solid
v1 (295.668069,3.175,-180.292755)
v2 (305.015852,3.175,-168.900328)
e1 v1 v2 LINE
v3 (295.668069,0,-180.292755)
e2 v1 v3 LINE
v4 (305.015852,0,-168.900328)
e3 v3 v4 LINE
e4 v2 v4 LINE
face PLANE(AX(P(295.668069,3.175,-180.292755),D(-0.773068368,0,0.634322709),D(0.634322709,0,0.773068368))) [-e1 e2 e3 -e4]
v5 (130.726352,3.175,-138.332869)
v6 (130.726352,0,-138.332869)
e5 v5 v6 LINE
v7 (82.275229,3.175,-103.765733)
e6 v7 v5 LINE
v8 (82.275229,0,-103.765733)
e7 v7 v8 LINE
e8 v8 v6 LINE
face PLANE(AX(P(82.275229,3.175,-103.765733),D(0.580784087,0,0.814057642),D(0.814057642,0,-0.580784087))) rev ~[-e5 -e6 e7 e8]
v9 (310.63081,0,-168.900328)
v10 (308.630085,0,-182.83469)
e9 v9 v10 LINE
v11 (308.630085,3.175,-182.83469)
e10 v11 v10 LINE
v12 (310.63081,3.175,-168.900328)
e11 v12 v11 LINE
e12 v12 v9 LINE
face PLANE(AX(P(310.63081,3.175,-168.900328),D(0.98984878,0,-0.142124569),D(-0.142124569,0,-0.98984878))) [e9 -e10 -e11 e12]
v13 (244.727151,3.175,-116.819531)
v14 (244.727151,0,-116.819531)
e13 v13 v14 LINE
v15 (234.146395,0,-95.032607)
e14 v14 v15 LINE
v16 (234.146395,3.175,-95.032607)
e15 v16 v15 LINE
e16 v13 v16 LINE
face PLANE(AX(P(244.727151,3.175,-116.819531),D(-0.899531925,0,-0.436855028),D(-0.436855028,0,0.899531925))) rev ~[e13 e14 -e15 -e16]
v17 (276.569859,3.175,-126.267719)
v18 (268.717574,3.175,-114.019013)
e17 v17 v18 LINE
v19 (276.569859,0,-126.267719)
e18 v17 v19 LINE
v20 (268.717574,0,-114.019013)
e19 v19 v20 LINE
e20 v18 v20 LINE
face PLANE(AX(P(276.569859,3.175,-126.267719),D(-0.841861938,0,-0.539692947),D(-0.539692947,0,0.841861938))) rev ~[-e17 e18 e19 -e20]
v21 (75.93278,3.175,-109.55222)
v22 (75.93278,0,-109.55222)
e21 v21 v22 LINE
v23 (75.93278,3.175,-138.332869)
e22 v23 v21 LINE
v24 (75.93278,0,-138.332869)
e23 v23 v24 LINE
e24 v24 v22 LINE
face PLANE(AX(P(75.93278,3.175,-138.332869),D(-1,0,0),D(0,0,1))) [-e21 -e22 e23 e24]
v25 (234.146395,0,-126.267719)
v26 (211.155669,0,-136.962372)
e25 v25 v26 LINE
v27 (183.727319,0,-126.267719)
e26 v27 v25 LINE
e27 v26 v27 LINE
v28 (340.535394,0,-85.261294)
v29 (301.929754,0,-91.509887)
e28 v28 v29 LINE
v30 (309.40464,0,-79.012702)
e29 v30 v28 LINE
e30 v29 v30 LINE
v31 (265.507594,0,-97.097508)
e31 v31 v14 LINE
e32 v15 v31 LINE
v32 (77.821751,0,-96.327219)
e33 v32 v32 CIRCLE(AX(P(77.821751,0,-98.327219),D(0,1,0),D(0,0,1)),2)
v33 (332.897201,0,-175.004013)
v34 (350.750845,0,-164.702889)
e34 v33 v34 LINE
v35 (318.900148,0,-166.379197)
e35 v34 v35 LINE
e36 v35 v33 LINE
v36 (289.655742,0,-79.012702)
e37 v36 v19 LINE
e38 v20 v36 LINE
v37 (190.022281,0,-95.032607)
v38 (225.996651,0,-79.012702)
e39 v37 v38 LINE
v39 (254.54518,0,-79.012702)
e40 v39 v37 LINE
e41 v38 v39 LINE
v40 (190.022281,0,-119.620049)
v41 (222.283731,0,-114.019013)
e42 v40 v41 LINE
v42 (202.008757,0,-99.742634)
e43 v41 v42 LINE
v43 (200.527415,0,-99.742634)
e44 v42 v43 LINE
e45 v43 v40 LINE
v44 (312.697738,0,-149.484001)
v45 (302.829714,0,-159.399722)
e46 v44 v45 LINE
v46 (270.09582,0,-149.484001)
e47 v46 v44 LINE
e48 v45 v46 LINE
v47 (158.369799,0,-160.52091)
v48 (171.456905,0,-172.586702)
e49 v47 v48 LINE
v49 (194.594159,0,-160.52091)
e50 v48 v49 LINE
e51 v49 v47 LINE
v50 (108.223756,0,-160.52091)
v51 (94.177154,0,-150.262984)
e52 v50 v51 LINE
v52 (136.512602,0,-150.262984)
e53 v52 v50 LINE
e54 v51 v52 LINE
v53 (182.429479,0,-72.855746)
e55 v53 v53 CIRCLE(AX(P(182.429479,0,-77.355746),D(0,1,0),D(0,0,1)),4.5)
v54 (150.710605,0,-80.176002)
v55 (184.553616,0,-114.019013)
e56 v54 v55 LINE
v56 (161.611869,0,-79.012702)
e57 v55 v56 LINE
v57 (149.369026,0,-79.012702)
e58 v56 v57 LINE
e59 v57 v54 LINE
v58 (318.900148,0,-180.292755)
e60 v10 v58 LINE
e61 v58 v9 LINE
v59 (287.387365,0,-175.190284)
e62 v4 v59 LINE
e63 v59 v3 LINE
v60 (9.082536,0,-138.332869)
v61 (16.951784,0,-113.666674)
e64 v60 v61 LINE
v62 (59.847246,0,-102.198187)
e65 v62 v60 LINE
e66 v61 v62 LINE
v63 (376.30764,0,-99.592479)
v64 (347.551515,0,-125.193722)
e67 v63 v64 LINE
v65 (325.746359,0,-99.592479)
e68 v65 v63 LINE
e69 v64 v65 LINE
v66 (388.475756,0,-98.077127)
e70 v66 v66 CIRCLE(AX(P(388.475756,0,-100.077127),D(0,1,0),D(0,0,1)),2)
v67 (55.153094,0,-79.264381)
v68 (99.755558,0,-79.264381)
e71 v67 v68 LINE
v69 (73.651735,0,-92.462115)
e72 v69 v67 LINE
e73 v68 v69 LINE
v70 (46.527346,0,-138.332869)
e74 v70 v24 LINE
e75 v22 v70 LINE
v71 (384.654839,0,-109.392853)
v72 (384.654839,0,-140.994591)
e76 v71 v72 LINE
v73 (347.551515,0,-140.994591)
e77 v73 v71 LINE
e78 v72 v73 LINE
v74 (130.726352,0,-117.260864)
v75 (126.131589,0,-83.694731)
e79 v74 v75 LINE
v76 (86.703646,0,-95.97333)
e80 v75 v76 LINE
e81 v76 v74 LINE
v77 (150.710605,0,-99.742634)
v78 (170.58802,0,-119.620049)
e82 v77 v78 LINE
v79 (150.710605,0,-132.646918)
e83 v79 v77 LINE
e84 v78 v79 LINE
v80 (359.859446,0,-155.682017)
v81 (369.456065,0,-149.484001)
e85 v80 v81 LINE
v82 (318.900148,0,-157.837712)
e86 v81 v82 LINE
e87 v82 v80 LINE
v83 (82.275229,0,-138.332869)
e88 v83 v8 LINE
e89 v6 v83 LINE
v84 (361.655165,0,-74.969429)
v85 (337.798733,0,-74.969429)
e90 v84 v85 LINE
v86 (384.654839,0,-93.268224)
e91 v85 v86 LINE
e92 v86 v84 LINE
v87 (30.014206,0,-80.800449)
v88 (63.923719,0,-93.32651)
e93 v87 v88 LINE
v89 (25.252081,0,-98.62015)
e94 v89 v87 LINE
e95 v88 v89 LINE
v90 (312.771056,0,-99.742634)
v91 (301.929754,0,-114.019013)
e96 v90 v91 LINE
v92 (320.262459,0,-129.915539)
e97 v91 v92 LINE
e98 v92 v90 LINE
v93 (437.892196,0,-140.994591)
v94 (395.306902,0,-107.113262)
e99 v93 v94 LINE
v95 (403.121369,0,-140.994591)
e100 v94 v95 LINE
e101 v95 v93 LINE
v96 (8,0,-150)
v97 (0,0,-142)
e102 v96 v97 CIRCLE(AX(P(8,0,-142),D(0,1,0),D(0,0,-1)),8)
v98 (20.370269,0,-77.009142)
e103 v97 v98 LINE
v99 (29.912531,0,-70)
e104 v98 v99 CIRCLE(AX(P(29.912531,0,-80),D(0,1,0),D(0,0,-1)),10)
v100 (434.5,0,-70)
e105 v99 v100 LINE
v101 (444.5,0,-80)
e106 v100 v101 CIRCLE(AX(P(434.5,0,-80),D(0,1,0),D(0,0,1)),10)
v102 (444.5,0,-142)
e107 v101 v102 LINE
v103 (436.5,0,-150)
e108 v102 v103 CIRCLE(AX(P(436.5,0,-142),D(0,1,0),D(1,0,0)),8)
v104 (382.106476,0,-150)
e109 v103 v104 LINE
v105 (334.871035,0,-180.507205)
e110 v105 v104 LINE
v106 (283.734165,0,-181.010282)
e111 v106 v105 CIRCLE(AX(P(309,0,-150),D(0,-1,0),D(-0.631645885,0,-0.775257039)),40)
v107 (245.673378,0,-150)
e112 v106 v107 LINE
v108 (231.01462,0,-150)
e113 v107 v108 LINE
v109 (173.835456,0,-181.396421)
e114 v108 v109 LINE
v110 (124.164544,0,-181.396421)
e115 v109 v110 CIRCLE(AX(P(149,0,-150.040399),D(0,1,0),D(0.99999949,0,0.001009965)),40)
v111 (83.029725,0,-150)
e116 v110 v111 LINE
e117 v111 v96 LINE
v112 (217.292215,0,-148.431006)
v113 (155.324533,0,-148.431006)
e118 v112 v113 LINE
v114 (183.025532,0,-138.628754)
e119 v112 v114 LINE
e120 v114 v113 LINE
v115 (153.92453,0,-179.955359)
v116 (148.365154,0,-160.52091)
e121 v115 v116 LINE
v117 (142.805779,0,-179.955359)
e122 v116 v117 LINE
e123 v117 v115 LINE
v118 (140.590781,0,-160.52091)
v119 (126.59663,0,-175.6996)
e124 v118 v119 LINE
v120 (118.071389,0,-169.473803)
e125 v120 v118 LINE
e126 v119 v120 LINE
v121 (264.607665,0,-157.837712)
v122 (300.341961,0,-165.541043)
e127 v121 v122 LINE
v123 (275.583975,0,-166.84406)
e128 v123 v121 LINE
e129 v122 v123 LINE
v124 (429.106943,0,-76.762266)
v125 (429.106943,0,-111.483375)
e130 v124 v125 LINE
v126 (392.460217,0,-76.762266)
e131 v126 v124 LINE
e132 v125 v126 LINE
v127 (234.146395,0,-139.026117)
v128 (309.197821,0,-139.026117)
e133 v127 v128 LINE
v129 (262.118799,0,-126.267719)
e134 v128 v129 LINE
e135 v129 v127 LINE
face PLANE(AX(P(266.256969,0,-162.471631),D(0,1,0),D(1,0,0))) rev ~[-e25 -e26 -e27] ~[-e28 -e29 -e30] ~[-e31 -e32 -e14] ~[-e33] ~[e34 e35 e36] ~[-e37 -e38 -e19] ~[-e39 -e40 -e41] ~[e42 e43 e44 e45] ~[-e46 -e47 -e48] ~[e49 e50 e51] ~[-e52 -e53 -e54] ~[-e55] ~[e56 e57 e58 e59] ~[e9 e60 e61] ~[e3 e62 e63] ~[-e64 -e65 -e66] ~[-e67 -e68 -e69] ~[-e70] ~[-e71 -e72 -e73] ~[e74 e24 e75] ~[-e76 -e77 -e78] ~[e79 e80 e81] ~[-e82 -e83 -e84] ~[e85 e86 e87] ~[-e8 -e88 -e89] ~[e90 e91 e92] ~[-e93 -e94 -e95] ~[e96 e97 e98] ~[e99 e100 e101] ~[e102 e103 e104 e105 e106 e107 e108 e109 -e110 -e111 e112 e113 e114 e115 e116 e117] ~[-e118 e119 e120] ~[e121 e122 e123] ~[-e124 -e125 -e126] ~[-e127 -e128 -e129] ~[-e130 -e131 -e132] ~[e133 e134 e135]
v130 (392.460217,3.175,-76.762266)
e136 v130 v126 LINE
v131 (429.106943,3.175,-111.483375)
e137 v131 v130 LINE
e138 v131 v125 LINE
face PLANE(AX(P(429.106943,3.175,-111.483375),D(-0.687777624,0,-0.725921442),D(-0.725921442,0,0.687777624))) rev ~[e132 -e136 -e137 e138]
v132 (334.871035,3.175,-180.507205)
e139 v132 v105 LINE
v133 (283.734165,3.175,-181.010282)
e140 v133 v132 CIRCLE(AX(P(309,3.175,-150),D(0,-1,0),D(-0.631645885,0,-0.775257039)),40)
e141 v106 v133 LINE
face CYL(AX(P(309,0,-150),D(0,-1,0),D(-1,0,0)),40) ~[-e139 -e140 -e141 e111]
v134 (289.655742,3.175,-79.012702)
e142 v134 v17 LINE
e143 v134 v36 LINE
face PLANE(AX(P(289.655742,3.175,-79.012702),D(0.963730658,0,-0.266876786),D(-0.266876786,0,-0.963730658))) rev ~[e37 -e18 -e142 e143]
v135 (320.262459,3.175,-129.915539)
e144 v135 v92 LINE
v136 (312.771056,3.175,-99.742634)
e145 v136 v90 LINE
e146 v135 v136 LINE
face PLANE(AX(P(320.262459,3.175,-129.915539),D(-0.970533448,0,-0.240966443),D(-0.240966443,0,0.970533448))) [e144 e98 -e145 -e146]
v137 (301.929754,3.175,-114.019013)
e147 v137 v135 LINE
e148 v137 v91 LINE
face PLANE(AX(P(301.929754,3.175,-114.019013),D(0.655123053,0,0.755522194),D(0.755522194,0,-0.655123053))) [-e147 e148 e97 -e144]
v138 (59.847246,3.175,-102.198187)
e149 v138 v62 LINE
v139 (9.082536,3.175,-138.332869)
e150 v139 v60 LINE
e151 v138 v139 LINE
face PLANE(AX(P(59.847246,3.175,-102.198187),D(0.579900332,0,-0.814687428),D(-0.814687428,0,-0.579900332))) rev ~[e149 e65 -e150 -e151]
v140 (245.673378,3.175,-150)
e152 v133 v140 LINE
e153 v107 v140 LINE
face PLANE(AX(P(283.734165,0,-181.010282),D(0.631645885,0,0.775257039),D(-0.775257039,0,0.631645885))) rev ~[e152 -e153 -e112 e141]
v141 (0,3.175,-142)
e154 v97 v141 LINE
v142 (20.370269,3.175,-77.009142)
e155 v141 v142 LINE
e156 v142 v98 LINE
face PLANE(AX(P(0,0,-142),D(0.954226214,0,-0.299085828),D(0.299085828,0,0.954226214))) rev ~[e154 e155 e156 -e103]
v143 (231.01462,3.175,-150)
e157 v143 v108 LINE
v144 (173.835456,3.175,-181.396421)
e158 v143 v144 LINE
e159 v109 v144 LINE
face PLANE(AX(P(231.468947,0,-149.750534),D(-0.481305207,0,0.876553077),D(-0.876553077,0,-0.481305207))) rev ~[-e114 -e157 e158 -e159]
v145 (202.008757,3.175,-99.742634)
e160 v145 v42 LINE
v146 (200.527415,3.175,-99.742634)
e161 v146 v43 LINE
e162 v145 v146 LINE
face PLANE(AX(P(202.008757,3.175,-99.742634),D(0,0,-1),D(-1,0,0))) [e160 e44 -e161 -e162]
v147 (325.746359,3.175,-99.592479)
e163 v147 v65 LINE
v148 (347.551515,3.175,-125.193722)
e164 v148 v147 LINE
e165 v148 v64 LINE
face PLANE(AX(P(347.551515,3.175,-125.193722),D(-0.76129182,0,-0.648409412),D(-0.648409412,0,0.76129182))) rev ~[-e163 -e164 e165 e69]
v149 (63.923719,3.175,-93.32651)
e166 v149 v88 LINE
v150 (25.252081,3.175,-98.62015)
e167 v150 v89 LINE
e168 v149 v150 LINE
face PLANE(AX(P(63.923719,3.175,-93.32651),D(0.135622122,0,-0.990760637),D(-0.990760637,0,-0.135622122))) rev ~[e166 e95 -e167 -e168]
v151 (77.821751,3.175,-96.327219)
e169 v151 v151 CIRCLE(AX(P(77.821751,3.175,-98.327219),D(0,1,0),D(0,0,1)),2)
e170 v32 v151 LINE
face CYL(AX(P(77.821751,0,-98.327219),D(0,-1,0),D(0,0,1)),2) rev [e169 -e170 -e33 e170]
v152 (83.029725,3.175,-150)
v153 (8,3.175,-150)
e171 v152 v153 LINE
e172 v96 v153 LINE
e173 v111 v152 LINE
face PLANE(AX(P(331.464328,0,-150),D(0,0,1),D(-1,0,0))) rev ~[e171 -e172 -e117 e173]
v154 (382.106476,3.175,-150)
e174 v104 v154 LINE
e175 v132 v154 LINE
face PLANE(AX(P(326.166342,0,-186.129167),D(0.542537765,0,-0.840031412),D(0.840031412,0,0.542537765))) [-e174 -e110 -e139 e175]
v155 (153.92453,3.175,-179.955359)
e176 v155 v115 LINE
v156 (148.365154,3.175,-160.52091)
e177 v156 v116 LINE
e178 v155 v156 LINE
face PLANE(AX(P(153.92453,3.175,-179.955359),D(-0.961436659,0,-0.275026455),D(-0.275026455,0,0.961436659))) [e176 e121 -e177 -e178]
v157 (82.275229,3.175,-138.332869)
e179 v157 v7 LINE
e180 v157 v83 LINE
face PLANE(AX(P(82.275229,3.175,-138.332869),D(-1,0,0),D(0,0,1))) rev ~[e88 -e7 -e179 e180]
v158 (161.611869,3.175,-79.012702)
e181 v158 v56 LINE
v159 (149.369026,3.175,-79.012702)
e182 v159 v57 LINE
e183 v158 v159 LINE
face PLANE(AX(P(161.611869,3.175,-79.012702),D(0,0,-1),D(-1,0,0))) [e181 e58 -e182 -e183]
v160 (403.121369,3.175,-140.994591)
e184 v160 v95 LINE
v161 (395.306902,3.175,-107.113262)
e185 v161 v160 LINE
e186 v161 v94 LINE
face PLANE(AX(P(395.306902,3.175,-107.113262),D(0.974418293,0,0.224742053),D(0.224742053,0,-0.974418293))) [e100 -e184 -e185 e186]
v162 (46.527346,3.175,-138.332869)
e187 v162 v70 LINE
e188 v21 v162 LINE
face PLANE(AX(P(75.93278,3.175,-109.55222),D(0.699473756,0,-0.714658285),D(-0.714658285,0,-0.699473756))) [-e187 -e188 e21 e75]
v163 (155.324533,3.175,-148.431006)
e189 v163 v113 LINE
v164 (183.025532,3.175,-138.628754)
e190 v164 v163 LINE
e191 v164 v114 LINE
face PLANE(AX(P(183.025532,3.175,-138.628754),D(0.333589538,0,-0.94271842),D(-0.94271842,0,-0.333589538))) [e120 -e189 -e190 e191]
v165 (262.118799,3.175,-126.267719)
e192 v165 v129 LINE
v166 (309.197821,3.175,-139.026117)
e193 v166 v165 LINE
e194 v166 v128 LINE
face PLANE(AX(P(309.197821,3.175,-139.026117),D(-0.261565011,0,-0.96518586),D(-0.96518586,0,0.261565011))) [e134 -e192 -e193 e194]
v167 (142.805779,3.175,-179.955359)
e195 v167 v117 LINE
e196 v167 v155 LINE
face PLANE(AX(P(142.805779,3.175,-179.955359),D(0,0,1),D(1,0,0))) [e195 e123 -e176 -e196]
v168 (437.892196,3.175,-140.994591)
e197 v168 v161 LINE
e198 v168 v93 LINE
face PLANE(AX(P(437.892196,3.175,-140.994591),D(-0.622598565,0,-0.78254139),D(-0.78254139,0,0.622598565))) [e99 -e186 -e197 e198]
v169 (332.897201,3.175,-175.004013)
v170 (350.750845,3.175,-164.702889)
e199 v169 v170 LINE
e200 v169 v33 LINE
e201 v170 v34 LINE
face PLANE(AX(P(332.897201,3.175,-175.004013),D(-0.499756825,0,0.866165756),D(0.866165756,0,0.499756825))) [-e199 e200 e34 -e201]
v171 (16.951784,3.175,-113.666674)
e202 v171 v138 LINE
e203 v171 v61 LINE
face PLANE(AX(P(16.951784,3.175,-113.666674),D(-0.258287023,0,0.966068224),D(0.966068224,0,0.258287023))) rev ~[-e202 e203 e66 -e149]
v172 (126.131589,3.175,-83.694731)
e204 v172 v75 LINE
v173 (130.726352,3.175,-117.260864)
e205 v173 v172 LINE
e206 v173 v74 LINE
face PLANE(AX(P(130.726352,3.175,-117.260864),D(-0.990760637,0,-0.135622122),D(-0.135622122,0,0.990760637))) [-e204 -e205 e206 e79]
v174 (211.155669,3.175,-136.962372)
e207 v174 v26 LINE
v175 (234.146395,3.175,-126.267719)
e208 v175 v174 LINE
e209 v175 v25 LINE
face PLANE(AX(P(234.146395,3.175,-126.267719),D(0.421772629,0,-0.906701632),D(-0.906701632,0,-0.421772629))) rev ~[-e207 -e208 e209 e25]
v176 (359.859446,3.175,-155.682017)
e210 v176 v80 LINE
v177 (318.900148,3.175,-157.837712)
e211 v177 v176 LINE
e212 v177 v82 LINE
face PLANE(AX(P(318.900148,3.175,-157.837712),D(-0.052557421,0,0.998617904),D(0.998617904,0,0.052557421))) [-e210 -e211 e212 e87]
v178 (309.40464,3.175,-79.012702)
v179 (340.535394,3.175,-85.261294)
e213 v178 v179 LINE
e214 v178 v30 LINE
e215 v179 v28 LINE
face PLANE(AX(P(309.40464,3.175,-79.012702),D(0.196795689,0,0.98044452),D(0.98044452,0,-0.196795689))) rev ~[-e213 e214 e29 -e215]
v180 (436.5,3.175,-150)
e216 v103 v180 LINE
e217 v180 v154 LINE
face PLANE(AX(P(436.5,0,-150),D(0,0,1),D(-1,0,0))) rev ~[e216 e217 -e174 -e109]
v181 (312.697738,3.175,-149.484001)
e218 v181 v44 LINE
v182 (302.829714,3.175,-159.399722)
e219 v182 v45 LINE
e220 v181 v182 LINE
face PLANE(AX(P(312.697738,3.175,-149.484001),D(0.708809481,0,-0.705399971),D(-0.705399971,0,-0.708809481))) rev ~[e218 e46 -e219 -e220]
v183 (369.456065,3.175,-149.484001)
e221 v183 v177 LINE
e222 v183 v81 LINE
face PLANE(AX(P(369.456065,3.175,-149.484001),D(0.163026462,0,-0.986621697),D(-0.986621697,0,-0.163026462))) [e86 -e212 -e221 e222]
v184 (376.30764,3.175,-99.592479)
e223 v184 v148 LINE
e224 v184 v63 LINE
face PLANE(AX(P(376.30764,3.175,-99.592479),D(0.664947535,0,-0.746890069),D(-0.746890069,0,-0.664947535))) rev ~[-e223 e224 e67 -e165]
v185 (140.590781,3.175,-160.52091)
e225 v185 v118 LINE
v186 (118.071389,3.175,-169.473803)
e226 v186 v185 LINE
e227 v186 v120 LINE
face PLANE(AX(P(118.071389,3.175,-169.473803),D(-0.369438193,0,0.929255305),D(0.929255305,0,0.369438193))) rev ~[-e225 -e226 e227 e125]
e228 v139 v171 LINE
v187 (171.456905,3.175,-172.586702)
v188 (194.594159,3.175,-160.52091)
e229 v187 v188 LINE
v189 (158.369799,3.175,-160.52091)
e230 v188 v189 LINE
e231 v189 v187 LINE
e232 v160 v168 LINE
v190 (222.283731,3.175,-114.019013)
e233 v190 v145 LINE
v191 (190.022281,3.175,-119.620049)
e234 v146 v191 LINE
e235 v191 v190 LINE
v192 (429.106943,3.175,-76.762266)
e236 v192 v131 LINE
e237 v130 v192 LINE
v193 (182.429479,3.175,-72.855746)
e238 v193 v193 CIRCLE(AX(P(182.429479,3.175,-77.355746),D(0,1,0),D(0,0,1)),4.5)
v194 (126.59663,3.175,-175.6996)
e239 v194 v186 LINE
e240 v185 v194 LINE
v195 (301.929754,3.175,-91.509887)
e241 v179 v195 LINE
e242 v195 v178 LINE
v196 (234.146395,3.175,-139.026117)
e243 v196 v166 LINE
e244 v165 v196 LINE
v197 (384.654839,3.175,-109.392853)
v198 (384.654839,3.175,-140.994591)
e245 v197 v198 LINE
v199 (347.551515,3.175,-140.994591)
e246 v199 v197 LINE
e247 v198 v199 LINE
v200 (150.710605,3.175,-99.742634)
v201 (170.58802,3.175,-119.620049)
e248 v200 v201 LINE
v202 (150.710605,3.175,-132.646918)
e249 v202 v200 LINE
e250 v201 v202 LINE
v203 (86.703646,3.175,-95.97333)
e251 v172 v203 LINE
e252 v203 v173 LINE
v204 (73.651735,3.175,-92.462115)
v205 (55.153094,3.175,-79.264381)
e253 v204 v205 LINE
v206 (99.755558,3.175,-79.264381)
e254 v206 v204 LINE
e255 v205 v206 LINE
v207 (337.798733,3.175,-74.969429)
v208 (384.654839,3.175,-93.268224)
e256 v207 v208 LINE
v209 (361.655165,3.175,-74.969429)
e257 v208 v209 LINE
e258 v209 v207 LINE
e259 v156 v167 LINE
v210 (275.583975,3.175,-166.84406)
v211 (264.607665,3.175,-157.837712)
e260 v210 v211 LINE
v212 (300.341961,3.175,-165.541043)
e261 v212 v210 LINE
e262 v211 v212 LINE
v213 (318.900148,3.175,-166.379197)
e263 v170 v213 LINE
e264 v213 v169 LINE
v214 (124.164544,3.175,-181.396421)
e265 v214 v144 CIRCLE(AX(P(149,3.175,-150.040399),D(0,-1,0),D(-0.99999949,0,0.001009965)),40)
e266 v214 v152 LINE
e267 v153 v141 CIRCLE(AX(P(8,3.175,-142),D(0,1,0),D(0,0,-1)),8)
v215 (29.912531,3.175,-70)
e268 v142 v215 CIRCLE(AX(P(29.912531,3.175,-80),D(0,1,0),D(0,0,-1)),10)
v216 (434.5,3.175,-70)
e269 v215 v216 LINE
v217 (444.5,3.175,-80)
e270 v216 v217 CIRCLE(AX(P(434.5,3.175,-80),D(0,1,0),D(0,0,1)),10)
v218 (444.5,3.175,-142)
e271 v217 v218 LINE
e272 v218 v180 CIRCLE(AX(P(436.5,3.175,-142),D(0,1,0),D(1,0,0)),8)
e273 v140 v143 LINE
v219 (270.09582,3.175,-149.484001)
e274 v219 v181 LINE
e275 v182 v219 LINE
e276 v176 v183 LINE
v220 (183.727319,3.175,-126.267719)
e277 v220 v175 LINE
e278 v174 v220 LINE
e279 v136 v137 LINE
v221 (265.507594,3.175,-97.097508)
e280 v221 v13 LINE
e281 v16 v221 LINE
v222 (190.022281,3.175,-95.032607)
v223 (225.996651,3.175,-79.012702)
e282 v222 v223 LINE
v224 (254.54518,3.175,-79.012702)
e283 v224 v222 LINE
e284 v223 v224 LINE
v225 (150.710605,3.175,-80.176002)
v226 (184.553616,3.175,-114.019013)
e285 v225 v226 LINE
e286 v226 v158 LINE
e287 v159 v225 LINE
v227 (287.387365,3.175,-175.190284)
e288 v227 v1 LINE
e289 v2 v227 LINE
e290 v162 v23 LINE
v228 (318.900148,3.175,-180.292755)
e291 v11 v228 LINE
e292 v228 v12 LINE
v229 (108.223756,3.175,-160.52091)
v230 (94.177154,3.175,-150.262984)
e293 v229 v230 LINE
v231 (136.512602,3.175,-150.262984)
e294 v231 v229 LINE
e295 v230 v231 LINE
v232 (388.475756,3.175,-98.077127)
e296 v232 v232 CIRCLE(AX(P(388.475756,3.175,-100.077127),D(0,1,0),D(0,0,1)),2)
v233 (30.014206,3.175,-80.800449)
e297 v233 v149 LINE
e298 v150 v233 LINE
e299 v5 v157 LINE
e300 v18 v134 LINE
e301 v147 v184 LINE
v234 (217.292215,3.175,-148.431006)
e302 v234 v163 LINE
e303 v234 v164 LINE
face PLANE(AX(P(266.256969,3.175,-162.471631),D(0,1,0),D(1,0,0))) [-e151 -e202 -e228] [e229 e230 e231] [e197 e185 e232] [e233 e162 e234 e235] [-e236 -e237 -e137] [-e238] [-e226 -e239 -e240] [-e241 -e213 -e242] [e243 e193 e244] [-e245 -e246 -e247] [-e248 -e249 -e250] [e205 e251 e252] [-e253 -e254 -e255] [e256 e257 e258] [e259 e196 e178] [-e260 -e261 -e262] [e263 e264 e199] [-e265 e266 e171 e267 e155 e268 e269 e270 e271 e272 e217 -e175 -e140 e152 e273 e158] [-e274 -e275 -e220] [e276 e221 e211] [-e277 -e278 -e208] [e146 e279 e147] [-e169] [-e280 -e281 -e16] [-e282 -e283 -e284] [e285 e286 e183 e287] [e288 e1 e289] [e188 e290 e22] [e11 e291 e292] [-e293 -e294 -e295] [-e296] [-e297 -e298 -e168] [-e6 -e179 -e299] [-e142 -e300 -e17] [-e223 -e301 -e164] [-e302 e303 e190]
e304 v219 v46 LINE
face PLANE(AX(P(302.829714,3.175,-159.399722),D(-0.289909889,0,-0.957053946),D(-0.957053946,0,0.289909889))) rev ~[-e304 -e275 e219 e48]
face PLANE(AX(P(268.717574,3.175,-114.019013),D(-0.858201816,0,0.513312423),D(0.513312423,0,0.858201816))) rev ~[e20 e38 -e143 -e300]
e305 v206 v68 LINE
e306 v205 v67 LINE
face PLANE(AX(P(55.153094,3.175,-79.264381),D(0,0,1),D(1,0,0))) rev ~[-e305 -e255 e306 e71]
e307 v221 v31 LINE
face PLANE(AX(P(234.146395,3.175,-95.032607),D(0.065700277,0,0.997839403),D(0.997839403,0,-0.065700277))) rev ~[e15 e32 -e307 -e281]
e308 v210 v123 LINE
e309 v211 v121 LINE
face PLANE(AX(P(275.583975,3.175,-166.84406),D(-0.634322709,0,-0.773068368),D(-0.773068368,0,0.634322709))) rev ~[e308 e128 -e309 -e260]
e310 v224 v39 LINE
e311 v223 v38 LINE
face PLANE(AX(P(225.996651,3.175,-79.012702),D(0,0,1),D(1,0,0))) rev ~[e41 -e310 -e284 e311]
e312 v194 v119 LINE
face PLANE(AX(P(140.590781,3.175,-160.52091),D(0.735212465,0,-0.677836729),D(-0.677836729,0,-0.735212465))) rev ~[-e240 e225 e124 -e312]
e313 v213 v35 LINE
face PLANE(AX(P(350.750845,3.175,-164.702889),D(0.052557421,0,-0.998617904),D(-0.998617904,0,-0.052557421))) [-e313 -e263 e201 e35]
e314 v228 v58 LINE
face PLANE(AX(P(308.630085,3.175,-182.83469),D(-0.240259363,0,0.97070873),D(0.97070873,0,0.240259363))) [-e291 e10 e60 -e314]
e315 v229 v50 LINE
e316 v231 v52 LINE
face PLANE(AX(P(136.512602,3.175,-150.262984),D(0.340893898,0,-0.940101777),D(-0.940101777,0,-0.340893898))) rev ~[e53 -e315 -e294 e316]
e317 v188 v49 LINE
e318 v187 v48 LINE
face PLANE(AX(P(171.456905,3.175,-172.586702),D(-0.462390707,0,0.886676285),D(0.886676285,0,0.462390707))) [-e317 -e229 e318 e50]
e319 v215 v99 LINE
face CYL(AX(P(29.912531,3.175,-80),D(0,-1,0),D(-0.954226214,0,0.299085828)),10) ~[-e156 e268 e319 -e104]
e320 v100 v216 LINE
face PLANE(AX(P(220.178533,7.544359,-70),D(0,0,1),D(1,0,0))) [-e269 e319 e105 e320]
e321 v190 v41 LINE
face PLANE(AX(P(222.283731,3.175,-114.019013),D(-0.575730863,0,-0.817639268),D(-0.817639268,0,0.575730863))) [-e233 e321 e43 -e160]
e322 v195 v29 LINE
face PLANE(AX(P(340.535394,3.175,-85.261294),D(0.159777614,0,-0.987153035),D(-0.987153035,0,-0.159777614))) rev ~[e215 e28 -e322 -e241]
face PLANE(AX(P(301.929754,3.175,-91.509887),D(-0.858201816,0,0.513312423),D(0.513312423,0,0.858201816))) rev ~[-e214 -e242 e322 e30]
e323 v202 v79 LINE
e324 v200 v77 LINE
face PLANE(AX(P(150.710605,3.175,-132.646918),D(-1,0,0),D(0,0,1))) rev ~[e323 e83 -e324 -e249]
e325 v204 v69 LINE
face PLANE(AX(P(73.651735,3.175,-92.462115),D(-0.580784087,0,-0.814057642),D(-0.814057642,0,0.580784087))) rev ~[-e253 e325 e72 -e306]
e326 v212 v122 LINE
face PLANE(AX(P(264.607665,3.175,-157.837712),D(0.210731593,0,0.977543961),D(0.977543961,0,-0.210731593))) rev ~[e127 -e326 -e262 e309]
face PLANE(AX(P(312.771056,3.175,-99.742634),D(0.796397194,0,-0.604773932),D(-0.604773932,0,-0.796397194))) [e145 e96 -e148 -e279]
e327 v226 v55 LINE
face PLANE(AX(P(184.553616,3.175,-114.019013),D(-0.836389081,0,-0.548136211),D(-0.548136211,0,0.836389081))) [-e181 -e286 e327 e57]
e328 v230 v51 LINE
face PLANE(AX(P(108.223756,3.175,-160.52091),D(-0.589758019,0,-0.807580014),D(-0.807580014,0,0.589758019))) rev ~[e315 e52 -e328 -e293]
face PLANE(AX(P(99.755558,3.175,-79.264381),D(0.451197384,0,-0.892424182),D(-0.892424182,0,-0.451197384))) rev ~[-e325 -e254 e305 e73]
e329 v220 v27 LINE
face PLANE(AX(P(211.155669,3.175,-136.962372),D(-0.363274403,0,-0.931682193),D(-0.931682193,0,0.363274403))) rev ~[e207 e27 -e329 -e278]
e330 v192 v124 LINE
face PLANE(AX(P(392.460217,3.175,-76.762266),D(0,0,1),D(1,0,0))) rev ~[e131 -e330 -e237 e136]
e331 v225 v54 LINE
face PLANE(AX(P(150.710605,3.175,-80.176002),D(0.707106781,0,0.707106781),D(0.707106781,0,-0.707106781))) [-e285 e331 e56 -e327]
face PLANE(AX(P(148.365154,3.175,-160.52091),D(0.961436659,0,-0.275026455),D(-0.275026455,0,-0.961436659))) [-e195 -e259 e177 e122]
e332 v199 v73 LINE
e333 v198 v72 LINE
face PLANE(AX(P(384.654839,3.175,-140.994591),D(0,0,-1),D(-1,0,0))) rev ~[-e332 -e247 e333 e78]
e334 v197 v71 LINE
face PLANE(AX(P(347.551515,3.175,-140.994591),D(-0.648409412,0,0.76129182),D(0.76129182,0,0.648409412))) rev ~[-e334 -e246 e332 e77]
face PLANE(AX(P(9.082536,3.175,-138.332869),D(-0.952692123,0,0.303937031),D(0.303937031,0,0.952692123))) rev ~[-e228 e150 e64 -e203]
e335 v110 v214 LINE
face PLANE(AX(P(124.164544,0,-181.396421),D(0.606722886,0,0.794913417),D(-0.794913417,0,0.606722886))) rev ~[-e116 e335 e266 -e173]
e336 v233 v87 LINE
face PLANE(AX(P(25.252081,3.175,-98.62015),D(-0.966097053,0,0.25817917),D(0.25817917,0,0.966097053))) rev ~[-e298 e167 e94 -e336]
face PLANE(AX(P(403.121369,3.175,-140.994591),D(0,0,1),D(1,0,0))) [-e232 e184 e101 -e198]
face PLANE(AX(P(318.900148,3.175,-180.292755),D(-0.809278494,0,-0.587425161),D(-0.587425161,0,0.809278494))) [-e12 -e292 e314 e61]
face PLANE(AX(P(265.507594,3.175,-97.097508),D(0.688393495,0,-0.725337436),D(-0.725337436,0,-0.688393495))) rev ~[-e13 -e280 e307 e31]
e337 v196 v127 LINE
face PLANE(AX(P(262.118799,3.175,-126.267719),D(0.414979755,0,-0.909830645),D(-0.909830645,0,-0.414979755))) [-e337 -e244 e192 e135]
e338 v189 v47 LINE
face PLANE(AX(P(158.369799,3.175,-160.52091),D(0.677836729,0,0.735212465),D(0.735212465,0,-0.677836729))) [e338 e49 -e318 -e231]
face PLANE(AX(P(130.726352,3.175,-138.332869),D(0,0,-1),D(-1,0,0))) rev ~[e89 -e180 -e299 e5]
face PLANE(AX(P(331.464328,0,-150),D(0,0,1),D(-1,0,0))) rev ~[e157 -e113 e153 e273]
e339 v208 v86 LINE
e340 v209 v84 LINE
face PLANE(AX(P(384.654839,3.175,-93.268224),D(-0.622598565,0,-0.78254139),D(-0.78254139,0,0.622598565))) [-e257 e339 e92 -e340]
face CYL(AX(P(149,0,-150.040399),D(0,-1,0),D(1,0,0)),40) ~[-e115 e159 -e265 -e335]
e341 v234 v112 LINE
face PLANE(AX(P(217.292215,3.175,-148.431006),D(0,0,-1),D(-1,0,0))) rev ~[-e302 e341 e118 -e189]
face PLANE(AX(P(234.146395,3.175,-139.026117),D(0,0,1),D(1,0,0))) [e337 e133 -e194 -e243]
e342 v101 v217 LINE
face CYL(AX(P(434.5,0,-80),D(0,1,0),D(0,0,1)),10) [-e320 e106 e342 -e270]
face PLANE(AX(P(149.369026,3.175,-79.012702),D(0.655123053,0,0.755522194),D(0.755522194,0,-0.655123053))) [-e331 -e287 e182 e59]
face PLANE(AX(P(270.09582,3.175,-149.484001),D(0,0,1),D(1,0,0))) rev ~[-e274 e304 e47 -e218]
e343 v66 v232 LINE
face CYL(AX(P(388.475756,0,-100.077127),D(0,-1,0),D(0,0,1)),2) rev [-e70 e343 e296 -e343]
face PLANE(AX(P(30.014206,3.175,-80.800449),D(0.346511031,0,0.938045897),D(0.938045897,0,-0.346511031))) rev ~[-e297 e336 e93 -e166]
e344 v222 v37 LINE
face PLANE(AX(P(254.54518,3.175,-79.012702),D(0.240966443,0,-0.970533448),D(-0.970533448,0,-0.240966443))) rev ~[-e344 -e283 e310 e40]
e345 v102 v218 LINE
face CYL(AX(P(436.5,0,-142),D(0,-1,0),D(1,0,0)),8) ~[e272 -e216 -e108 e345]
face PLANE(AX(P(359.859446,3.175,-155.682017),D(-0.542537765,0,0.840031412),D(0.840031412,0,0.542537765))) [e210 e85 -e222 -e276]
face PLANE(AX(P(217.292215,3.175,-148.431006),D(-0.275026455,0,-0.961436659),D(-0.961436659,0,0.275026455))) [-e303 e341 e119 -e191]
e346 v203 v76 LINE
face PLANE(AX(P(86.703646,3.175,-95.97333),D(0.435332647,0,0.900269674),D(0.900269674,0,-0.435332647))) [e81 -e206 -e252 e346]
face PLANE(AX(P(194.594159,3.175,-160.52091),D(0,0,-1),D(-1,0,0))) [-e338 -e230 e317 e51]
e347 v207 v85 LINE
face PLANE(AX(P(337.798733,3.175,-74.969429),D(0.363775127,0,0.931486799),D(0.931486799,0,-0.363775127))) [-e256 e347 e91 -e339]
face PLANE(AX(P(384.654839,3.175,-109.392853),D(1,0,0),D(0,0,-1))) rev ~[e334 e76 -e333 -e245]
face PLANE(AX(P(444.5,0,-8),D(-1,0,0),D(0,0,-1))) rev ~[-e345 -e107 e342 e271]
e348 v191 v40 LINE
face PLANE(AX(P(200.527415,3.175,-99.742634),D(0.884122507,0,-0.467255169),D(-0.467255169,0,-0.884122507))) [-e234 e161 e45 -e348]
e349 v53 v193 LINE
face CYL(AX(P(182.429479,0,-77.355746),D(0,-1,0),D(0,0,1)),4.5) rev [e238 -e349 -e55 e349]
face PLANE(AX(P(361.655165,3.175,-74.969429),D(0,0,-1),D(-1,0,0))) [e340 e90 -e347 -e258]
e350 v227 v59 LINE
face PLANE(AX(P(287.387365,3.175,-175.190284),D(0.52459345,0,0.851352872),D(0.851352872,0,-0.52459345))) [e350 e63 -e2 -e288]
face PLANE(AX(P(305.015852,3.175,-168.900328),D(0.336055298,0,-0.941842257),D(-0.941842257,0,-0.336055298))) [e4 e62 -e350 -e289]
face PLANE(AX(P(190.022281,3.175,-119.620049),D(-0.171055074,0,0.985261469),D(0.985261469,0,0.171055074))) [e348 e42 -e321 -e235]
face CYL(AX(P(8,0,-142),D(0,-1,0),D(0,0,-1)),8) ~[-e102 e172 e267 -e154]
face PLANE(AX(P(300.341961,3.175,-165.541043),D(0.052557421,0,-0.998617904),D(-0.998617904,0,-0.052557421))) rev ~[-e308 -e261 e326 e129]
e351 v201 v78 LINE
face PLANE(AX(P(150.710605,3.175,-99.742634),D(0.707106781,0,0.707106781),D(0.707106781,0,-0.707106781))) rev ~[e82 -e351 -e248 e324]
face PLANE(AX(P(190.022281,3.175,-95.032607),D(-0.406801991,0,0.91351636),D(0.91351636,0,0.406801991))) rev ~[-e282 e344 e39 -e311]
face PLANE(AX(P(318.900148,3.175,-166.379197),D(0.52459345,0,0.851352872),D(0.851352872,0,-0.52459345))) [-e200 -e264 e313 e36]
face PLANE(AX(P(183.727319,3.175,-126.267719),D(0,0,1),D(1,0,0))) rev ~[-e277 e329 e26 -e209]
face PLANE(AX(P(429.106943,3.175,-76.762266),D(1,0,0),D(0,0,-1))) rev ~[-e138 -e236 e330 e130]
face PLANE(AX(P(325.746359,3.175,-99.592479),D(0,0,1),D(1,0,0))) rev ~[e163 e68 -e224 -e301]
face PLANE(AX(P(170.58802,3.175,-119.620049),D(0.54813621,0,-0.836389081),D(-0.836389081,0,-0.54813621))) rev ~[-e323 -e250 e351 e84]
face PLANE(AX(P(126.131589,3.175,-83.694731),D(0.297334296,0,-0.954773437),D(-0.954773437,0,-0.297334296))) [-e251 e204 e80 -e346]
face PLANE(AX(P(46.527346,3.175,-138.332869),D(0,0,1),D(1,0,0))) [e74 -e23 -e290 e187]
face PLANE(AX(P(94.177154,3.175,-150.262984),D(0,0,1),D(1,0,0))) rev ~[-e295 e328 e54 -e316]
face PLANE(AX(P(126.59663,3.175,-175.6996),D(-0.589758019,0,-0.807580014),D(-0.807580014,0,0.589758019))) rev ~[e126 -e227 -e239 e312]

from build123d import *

# Parameters (mm, degrees)
SKETCH1_R           = 2
SKETCH1_R_2         = 4.313560469
SKETCH1_R_3         = 4.5
SKETCH1_R_4         = 3.716178426
BOSS_EXTRUDE1_DEPTH = 3.175
SKETCH2_W           = 597.466303312
SKETCH2_H           = 60.972543052
CUT_EXTRUDE1_DEPTH  = 70
FILLET1_R           = 10
FILLET2_R           = 10
SKETCH6_R           = 40
BOSS_EXTRUDE2_DEPTH = 3.175
BOSS_EXTRUDE3_DEPTH = 3.175
SKETCH9_R           = 40
BOSS_EXTRUDE4_DEPTH = 3.175
BOSS_EXTRUDE6_DEPTH = 3.175
CUT_EXTRUDE2_DEPTH  = 10
CUT_EXTRUDE3_DEPTH  = 10
CUT_EXTRUDE4_DEPTH  = 10
CUT_EXTRUDE5_DEPTH  = 10
CUT_EXTRUDE6_DEPTH  = 10


with BuildPart() as part:
    # Sketch1 → Boss-Extrude1 (new body)
    with BuildSketch(Plane(origin=(0, 0, 0), x_dir=(1, 0, 0), z_dir=(0, 1, 0))):
        with BuildLine():
            ThreePointArc((8, 150), (2.343145751, 147.656854249), (0, 142))
            Line((0, 142), (42, 8))
            ThreePointArc((42, 8), (44.343145751, 2.343145751), (50, 0))
            Line((50, 0), (436.5, 0))
            ThreePointArc((436.5, 0), (442.156854249, 2.343145751), (444.5, 8))
            Line((444.5, 8), (444.5, 142))
            ThreePointArc((444.5, 142), (442.156854249, 147.656854249), (436.5, 150))
            Line((436.5, 150), (336.748623665, 150))
            ThreePointArc((336.748623665, 150), (334.106475607, 148.038018595), (331.46432755, 150))
            Line((331.46432755, 150), (8, 150))
        make_face()
        with Locations(Location((388.475756445, 100.077126905, 0), (0, 0, 270))):
            Circle(SKETCH1_R, mode=Mode.SUBTRACT)
        with Locations(Location((307.606475607, 140.710564477, 0), (0, 0, 270))):
            Circle(SKETCH1_R_2, mode=Mode.SUBTRACT)
        with Locations(Location((77.821750814, 98.327219393, 0), (0, 0, 270))):
            Circle(SKETCH1_R, mode=Mode.SUBTRACT)
        with Locations(Location((182.429479385, 77.355745695, 0), (0, 0, 270))):
            Circle(SKETCH1_R_3, mode=Mode.SUBTRACT)
        with Locations(Location((146.269370224, 139.84039861, 0), (0, 0, 270))):
            Circle(SKETCH1_R_4, mode=Mode.SUBTRACT)
    extrude(amount=BOSS_EXTRUDE1_DEPTH)

    # Sketch2 → Cut-Extrude1 (cut)
    with BuildSketch(Plane.XY):
        with Locations((220.1785332, 7.544358636)):
            Rectangle(SKETCH2_W, SKETCH2_H)
    extrude(amount=-CUT_EXTRUDE1_DEPTH, mode=Mode.SUBTRACT)

    # Fillet1
    fillet1_edges = [part.edges().sort_by_distance(p)[0] for p in [
        (22.567164179, 1.5875, -70),
    ]]
    fillet(fillet1_edges, radius=FILLET1_R)

    # Fillet2
    fillet2_edges = [part.edges().sort_by_distance(p)[0] for p in [
        (444.5, 1.5875, -70),
    ]]
    fillet(fillet2_edges, radius=FILLET2_R)

    # Sketch6 → Boss-Extrude2 (add)
    with BuildSketch(Plane(origin=(0, 0, 0), x_dir=(1, 0, 0), z_dir=(0, 1, 0))):
        with Locations((149, 150.04039861)):
            Circle(SKETCH6_R)
    extrude(amount=BOSS_EXTRUDE2_DEPTH)

    # Sketch7 → Boss-Extrude3 (add)
    with BuildSketch(Plane(origin=(0, 0, 0), x_dir=(1, 0, 0), z_dir=(0, 1, 0))):
        Polygon((124.164543783, 181.396420591), (82.702881078, 149.750534228), (231.468946681, 149.750534228), (173.835456217, 181.396420591), align=None)
    extrude(amount=BOSS_EXTRUDE3_DEPTH)

    # Sketch9 → Boss-Extrude4 (add)
    with BuildSketch(Plane(origin=(0, 0, 0), x_dir=(1, 0, 0), z_dir=(0, 1, 0))):
        with BuildLine():
            ThreePointArc((269, 150), (272.870833001, 167.166341835), (283.734164599, 181.010281545))
            Line((283.734164599, 181.010281545), (245.673378314, 150))
            Line((245.673378314, 150), (269, 150))
        make_face()
        with Locations((309, 150)):
            Circle(SKETCH9_R)
    extrude(amount=BOSS_EXTRUDE4_DEPTH)

    # Sketch12 → Boss-Extrude6 (add)
    with BuildSketch(Plane(origin=(0, 0, 0), x_dir=(1, 0, 0), z_dir=(0, 1, 0))):
        Polygon((326.166341835, 186.129166999), (382.106475607, 150), (340.398839744, 150), align=None)
    extrude(amount=BOSS_EXTRUDE6_DEPTH)

    # Sketch13 → Cut-Extrude2 (cut)
    with BuildSketch(Plane(origin=(0, 3.175, 0), x_dir=(1, 0, 0), z_dir=(0, 1, 0))):
        Polygon((126.596630185, 175.699600472), (118.071388699, 169.473803102), (140.590780828, 160.520909874), align=None)
        Polygon((142.805778665, 179.955358976), (153.92453015, 179.955358976), (148.365154407, 160.520909874), align=None)
        Polygon((158.369799386, 160.520909874), (171.45690463, 172.586701787), (194.594159282, 160.520909874), align=None)
        Polygon((108.223756098, 160.520909874), (94.177153866, 150.262983529), (136.512601507, 150.262983529), align=None)
        Polygon((155.324532982, 148.431005589), (192.465847063, 148.431005589), (217.292214981, 148.431005589), (183.025531956, 138.62875365), align=None)
    extrude(amount=-CUT_EXTRUDE2_DEPTH, mode=Mode.SUBTRACT)

    # Sketch14 → Cut-Extrude3 (cut)
    with BuildSketch(Plane(origin=(0, 3.175, 0), x_dir=(1, 0, 0), z_dir=(0, 1, 0))):
        Polygon((287.387365491, 175.190284075), (295.66806948, 180.292754759), (305.015851869, 168.900328202), align=None)
        Polygon((308.630084677, 182.834690248), (318.900148429, 180.292754759), (310.630809682, 168.900328202), align=None)
        Polygon((318.900148429, 166.379196716), (332.89720101, 175.004012981), (350.750845105, 164.702889414), align=None)
        Polygon((300.341960675, 165.541043065), (275.583975015, 166.844059842), (264.607664644, 157.837711611), align=None)
        Polygon((318.900148429, 157.837711611), (359.859445758, 155.682017188), (369.45606502, 149.484000906), align=None)
        Polygon((302.829713803, 159.399721535), (270.095819829, 149.484000906), (312.697737902, 149.484000906), align=None)
    extrude(amount=-CUT_EXTRUDE3_DEPTH, mode=Mode.SUBTRACT)

    # Sketch15 → Cut-Extrude4 (cut)
    with BuildSketch(Plane(origin=(0, 3.175, 0), x_dir=(1, 0, 0), z_dir=(0, 1, 0))):
        Polygon((9.082536395, 138.332869462), (16.951784082, 113.666673792), (59.847245845, 102.198186546), align=None)
        Polygon((46.527345648, 138.332869462), (75.932780446, 138.332869462), (75.932780446, 109.552219535), align=None)
        Polygon((82.275228769, 103.765733182), (130.726352108, 138.332869462), (82.275228769, 138.332869462), align=None)
        Polygon((25.252080853, 98.620149784), (30.014206453, 80.800449194), (63.923719137, 93.326510285), align=None)
        Polygon((73.651734719, 92.462114854), (55.153094423, 79.264381219), (99.755557686, 79.264381219), align=None)
        Polygon((86.703646203, 95.973330035), (130.726352108, 117.260863799), (126.131589339, 83.694731493), align=None)
    extrude(amount=-CUT_EXTRUDE4_DEPTH, mode=Mode.SUBTRACT)

    # Sketch16 → Cut-Extrude5 (cut)
    with BuildSketch(Plane(origin=(0, 3.175, 0), x_dir=(1, 0, 0), z_dir=(0, 1, 0))):
        Polygon((437.892195527, 140.994591207), (395.306902067, 107.113261781), (403.121369003, 140.994591207), align=None)
        Polygon((384.654839472, 93.268223937), (361.655164528, 74.969428739), (337.798732838, 74.969428739), align=None)
        Polygon((429.106942721, 111.483374831), (392.46021732, 76.762265555), (429.106942721, 76.762265555), align=None)
        Polygon((384.654839472, 140.994591207), (347.551515413, 140.994591207), (384.654839472, 109.39285335), align=None)
        Polygon((347.551515413, 125.193722279), (325.746359439, 99.592479337), (376.307639908, 99.592479337), align=None)
    extrude(amount=-CUT_EXTRUDE5_DEPTH, mode=Mode.SUBTRACT)

    # Sketch17 → Cut-Extrude6 (cut)
    with BuildSketch(Plane(origin=(0, 3.175, 0), x_dir=(1, 0, 0), z_dir=(0, 1, 0))):
        Polygon((234.14639503, 139.026116815), (309.197820801, 139.026116815), (262.118798526, 126.26771918), align=None)
        Polygon((211.155668978, 136.962371774), (183.727319265, 126.26771918), (234.14639503, 126.26771918), align=None)
        Polygon((150.710604994, 132.646917997), (150.710604994, 99.742633834), (170.588020135, 119.620048974), align=None)
        Polygon((150.710604994, 80.176001915), (184.553616381, 114.019013303), (161.611869132, 79.012701862), (149.369026486, 79.012701862), align=None)
        Polygon((190.022281375, 95.03260673), (225.996651018, 79.012701862), (254.545180422, 79.012701862), align=None)
        Polygon((200.527414873, 99.742633834), (190.022281375, 119.620048974), (222.283730898, 114.019013303), (202.008756576, 99.742633834), align=None)
        Polygon((244.72715064, 116.819531138), (234.14639503, 95.03260673), (265.507593925, 97.097507609), align=None)
        Polygon((268.717573549, 114.019013303), (289.655742431, 79.012701862), (276.569858899, 126.26771918), align=None)
        Polygon((301.929754413, 114.019013303), (320.262459356, 129.915538559), (312.771055987, 99.742633834), align=None)
        Polygon((301.929754413, 91.509886863), (309.404639922, 79.012701862), (340.535394318, 85.261294363), align=None)
    extrude(amount=-CUT_EXTRUDE6_DEPTH, mode=Mode.SUBTRACT)


solid = part.part
